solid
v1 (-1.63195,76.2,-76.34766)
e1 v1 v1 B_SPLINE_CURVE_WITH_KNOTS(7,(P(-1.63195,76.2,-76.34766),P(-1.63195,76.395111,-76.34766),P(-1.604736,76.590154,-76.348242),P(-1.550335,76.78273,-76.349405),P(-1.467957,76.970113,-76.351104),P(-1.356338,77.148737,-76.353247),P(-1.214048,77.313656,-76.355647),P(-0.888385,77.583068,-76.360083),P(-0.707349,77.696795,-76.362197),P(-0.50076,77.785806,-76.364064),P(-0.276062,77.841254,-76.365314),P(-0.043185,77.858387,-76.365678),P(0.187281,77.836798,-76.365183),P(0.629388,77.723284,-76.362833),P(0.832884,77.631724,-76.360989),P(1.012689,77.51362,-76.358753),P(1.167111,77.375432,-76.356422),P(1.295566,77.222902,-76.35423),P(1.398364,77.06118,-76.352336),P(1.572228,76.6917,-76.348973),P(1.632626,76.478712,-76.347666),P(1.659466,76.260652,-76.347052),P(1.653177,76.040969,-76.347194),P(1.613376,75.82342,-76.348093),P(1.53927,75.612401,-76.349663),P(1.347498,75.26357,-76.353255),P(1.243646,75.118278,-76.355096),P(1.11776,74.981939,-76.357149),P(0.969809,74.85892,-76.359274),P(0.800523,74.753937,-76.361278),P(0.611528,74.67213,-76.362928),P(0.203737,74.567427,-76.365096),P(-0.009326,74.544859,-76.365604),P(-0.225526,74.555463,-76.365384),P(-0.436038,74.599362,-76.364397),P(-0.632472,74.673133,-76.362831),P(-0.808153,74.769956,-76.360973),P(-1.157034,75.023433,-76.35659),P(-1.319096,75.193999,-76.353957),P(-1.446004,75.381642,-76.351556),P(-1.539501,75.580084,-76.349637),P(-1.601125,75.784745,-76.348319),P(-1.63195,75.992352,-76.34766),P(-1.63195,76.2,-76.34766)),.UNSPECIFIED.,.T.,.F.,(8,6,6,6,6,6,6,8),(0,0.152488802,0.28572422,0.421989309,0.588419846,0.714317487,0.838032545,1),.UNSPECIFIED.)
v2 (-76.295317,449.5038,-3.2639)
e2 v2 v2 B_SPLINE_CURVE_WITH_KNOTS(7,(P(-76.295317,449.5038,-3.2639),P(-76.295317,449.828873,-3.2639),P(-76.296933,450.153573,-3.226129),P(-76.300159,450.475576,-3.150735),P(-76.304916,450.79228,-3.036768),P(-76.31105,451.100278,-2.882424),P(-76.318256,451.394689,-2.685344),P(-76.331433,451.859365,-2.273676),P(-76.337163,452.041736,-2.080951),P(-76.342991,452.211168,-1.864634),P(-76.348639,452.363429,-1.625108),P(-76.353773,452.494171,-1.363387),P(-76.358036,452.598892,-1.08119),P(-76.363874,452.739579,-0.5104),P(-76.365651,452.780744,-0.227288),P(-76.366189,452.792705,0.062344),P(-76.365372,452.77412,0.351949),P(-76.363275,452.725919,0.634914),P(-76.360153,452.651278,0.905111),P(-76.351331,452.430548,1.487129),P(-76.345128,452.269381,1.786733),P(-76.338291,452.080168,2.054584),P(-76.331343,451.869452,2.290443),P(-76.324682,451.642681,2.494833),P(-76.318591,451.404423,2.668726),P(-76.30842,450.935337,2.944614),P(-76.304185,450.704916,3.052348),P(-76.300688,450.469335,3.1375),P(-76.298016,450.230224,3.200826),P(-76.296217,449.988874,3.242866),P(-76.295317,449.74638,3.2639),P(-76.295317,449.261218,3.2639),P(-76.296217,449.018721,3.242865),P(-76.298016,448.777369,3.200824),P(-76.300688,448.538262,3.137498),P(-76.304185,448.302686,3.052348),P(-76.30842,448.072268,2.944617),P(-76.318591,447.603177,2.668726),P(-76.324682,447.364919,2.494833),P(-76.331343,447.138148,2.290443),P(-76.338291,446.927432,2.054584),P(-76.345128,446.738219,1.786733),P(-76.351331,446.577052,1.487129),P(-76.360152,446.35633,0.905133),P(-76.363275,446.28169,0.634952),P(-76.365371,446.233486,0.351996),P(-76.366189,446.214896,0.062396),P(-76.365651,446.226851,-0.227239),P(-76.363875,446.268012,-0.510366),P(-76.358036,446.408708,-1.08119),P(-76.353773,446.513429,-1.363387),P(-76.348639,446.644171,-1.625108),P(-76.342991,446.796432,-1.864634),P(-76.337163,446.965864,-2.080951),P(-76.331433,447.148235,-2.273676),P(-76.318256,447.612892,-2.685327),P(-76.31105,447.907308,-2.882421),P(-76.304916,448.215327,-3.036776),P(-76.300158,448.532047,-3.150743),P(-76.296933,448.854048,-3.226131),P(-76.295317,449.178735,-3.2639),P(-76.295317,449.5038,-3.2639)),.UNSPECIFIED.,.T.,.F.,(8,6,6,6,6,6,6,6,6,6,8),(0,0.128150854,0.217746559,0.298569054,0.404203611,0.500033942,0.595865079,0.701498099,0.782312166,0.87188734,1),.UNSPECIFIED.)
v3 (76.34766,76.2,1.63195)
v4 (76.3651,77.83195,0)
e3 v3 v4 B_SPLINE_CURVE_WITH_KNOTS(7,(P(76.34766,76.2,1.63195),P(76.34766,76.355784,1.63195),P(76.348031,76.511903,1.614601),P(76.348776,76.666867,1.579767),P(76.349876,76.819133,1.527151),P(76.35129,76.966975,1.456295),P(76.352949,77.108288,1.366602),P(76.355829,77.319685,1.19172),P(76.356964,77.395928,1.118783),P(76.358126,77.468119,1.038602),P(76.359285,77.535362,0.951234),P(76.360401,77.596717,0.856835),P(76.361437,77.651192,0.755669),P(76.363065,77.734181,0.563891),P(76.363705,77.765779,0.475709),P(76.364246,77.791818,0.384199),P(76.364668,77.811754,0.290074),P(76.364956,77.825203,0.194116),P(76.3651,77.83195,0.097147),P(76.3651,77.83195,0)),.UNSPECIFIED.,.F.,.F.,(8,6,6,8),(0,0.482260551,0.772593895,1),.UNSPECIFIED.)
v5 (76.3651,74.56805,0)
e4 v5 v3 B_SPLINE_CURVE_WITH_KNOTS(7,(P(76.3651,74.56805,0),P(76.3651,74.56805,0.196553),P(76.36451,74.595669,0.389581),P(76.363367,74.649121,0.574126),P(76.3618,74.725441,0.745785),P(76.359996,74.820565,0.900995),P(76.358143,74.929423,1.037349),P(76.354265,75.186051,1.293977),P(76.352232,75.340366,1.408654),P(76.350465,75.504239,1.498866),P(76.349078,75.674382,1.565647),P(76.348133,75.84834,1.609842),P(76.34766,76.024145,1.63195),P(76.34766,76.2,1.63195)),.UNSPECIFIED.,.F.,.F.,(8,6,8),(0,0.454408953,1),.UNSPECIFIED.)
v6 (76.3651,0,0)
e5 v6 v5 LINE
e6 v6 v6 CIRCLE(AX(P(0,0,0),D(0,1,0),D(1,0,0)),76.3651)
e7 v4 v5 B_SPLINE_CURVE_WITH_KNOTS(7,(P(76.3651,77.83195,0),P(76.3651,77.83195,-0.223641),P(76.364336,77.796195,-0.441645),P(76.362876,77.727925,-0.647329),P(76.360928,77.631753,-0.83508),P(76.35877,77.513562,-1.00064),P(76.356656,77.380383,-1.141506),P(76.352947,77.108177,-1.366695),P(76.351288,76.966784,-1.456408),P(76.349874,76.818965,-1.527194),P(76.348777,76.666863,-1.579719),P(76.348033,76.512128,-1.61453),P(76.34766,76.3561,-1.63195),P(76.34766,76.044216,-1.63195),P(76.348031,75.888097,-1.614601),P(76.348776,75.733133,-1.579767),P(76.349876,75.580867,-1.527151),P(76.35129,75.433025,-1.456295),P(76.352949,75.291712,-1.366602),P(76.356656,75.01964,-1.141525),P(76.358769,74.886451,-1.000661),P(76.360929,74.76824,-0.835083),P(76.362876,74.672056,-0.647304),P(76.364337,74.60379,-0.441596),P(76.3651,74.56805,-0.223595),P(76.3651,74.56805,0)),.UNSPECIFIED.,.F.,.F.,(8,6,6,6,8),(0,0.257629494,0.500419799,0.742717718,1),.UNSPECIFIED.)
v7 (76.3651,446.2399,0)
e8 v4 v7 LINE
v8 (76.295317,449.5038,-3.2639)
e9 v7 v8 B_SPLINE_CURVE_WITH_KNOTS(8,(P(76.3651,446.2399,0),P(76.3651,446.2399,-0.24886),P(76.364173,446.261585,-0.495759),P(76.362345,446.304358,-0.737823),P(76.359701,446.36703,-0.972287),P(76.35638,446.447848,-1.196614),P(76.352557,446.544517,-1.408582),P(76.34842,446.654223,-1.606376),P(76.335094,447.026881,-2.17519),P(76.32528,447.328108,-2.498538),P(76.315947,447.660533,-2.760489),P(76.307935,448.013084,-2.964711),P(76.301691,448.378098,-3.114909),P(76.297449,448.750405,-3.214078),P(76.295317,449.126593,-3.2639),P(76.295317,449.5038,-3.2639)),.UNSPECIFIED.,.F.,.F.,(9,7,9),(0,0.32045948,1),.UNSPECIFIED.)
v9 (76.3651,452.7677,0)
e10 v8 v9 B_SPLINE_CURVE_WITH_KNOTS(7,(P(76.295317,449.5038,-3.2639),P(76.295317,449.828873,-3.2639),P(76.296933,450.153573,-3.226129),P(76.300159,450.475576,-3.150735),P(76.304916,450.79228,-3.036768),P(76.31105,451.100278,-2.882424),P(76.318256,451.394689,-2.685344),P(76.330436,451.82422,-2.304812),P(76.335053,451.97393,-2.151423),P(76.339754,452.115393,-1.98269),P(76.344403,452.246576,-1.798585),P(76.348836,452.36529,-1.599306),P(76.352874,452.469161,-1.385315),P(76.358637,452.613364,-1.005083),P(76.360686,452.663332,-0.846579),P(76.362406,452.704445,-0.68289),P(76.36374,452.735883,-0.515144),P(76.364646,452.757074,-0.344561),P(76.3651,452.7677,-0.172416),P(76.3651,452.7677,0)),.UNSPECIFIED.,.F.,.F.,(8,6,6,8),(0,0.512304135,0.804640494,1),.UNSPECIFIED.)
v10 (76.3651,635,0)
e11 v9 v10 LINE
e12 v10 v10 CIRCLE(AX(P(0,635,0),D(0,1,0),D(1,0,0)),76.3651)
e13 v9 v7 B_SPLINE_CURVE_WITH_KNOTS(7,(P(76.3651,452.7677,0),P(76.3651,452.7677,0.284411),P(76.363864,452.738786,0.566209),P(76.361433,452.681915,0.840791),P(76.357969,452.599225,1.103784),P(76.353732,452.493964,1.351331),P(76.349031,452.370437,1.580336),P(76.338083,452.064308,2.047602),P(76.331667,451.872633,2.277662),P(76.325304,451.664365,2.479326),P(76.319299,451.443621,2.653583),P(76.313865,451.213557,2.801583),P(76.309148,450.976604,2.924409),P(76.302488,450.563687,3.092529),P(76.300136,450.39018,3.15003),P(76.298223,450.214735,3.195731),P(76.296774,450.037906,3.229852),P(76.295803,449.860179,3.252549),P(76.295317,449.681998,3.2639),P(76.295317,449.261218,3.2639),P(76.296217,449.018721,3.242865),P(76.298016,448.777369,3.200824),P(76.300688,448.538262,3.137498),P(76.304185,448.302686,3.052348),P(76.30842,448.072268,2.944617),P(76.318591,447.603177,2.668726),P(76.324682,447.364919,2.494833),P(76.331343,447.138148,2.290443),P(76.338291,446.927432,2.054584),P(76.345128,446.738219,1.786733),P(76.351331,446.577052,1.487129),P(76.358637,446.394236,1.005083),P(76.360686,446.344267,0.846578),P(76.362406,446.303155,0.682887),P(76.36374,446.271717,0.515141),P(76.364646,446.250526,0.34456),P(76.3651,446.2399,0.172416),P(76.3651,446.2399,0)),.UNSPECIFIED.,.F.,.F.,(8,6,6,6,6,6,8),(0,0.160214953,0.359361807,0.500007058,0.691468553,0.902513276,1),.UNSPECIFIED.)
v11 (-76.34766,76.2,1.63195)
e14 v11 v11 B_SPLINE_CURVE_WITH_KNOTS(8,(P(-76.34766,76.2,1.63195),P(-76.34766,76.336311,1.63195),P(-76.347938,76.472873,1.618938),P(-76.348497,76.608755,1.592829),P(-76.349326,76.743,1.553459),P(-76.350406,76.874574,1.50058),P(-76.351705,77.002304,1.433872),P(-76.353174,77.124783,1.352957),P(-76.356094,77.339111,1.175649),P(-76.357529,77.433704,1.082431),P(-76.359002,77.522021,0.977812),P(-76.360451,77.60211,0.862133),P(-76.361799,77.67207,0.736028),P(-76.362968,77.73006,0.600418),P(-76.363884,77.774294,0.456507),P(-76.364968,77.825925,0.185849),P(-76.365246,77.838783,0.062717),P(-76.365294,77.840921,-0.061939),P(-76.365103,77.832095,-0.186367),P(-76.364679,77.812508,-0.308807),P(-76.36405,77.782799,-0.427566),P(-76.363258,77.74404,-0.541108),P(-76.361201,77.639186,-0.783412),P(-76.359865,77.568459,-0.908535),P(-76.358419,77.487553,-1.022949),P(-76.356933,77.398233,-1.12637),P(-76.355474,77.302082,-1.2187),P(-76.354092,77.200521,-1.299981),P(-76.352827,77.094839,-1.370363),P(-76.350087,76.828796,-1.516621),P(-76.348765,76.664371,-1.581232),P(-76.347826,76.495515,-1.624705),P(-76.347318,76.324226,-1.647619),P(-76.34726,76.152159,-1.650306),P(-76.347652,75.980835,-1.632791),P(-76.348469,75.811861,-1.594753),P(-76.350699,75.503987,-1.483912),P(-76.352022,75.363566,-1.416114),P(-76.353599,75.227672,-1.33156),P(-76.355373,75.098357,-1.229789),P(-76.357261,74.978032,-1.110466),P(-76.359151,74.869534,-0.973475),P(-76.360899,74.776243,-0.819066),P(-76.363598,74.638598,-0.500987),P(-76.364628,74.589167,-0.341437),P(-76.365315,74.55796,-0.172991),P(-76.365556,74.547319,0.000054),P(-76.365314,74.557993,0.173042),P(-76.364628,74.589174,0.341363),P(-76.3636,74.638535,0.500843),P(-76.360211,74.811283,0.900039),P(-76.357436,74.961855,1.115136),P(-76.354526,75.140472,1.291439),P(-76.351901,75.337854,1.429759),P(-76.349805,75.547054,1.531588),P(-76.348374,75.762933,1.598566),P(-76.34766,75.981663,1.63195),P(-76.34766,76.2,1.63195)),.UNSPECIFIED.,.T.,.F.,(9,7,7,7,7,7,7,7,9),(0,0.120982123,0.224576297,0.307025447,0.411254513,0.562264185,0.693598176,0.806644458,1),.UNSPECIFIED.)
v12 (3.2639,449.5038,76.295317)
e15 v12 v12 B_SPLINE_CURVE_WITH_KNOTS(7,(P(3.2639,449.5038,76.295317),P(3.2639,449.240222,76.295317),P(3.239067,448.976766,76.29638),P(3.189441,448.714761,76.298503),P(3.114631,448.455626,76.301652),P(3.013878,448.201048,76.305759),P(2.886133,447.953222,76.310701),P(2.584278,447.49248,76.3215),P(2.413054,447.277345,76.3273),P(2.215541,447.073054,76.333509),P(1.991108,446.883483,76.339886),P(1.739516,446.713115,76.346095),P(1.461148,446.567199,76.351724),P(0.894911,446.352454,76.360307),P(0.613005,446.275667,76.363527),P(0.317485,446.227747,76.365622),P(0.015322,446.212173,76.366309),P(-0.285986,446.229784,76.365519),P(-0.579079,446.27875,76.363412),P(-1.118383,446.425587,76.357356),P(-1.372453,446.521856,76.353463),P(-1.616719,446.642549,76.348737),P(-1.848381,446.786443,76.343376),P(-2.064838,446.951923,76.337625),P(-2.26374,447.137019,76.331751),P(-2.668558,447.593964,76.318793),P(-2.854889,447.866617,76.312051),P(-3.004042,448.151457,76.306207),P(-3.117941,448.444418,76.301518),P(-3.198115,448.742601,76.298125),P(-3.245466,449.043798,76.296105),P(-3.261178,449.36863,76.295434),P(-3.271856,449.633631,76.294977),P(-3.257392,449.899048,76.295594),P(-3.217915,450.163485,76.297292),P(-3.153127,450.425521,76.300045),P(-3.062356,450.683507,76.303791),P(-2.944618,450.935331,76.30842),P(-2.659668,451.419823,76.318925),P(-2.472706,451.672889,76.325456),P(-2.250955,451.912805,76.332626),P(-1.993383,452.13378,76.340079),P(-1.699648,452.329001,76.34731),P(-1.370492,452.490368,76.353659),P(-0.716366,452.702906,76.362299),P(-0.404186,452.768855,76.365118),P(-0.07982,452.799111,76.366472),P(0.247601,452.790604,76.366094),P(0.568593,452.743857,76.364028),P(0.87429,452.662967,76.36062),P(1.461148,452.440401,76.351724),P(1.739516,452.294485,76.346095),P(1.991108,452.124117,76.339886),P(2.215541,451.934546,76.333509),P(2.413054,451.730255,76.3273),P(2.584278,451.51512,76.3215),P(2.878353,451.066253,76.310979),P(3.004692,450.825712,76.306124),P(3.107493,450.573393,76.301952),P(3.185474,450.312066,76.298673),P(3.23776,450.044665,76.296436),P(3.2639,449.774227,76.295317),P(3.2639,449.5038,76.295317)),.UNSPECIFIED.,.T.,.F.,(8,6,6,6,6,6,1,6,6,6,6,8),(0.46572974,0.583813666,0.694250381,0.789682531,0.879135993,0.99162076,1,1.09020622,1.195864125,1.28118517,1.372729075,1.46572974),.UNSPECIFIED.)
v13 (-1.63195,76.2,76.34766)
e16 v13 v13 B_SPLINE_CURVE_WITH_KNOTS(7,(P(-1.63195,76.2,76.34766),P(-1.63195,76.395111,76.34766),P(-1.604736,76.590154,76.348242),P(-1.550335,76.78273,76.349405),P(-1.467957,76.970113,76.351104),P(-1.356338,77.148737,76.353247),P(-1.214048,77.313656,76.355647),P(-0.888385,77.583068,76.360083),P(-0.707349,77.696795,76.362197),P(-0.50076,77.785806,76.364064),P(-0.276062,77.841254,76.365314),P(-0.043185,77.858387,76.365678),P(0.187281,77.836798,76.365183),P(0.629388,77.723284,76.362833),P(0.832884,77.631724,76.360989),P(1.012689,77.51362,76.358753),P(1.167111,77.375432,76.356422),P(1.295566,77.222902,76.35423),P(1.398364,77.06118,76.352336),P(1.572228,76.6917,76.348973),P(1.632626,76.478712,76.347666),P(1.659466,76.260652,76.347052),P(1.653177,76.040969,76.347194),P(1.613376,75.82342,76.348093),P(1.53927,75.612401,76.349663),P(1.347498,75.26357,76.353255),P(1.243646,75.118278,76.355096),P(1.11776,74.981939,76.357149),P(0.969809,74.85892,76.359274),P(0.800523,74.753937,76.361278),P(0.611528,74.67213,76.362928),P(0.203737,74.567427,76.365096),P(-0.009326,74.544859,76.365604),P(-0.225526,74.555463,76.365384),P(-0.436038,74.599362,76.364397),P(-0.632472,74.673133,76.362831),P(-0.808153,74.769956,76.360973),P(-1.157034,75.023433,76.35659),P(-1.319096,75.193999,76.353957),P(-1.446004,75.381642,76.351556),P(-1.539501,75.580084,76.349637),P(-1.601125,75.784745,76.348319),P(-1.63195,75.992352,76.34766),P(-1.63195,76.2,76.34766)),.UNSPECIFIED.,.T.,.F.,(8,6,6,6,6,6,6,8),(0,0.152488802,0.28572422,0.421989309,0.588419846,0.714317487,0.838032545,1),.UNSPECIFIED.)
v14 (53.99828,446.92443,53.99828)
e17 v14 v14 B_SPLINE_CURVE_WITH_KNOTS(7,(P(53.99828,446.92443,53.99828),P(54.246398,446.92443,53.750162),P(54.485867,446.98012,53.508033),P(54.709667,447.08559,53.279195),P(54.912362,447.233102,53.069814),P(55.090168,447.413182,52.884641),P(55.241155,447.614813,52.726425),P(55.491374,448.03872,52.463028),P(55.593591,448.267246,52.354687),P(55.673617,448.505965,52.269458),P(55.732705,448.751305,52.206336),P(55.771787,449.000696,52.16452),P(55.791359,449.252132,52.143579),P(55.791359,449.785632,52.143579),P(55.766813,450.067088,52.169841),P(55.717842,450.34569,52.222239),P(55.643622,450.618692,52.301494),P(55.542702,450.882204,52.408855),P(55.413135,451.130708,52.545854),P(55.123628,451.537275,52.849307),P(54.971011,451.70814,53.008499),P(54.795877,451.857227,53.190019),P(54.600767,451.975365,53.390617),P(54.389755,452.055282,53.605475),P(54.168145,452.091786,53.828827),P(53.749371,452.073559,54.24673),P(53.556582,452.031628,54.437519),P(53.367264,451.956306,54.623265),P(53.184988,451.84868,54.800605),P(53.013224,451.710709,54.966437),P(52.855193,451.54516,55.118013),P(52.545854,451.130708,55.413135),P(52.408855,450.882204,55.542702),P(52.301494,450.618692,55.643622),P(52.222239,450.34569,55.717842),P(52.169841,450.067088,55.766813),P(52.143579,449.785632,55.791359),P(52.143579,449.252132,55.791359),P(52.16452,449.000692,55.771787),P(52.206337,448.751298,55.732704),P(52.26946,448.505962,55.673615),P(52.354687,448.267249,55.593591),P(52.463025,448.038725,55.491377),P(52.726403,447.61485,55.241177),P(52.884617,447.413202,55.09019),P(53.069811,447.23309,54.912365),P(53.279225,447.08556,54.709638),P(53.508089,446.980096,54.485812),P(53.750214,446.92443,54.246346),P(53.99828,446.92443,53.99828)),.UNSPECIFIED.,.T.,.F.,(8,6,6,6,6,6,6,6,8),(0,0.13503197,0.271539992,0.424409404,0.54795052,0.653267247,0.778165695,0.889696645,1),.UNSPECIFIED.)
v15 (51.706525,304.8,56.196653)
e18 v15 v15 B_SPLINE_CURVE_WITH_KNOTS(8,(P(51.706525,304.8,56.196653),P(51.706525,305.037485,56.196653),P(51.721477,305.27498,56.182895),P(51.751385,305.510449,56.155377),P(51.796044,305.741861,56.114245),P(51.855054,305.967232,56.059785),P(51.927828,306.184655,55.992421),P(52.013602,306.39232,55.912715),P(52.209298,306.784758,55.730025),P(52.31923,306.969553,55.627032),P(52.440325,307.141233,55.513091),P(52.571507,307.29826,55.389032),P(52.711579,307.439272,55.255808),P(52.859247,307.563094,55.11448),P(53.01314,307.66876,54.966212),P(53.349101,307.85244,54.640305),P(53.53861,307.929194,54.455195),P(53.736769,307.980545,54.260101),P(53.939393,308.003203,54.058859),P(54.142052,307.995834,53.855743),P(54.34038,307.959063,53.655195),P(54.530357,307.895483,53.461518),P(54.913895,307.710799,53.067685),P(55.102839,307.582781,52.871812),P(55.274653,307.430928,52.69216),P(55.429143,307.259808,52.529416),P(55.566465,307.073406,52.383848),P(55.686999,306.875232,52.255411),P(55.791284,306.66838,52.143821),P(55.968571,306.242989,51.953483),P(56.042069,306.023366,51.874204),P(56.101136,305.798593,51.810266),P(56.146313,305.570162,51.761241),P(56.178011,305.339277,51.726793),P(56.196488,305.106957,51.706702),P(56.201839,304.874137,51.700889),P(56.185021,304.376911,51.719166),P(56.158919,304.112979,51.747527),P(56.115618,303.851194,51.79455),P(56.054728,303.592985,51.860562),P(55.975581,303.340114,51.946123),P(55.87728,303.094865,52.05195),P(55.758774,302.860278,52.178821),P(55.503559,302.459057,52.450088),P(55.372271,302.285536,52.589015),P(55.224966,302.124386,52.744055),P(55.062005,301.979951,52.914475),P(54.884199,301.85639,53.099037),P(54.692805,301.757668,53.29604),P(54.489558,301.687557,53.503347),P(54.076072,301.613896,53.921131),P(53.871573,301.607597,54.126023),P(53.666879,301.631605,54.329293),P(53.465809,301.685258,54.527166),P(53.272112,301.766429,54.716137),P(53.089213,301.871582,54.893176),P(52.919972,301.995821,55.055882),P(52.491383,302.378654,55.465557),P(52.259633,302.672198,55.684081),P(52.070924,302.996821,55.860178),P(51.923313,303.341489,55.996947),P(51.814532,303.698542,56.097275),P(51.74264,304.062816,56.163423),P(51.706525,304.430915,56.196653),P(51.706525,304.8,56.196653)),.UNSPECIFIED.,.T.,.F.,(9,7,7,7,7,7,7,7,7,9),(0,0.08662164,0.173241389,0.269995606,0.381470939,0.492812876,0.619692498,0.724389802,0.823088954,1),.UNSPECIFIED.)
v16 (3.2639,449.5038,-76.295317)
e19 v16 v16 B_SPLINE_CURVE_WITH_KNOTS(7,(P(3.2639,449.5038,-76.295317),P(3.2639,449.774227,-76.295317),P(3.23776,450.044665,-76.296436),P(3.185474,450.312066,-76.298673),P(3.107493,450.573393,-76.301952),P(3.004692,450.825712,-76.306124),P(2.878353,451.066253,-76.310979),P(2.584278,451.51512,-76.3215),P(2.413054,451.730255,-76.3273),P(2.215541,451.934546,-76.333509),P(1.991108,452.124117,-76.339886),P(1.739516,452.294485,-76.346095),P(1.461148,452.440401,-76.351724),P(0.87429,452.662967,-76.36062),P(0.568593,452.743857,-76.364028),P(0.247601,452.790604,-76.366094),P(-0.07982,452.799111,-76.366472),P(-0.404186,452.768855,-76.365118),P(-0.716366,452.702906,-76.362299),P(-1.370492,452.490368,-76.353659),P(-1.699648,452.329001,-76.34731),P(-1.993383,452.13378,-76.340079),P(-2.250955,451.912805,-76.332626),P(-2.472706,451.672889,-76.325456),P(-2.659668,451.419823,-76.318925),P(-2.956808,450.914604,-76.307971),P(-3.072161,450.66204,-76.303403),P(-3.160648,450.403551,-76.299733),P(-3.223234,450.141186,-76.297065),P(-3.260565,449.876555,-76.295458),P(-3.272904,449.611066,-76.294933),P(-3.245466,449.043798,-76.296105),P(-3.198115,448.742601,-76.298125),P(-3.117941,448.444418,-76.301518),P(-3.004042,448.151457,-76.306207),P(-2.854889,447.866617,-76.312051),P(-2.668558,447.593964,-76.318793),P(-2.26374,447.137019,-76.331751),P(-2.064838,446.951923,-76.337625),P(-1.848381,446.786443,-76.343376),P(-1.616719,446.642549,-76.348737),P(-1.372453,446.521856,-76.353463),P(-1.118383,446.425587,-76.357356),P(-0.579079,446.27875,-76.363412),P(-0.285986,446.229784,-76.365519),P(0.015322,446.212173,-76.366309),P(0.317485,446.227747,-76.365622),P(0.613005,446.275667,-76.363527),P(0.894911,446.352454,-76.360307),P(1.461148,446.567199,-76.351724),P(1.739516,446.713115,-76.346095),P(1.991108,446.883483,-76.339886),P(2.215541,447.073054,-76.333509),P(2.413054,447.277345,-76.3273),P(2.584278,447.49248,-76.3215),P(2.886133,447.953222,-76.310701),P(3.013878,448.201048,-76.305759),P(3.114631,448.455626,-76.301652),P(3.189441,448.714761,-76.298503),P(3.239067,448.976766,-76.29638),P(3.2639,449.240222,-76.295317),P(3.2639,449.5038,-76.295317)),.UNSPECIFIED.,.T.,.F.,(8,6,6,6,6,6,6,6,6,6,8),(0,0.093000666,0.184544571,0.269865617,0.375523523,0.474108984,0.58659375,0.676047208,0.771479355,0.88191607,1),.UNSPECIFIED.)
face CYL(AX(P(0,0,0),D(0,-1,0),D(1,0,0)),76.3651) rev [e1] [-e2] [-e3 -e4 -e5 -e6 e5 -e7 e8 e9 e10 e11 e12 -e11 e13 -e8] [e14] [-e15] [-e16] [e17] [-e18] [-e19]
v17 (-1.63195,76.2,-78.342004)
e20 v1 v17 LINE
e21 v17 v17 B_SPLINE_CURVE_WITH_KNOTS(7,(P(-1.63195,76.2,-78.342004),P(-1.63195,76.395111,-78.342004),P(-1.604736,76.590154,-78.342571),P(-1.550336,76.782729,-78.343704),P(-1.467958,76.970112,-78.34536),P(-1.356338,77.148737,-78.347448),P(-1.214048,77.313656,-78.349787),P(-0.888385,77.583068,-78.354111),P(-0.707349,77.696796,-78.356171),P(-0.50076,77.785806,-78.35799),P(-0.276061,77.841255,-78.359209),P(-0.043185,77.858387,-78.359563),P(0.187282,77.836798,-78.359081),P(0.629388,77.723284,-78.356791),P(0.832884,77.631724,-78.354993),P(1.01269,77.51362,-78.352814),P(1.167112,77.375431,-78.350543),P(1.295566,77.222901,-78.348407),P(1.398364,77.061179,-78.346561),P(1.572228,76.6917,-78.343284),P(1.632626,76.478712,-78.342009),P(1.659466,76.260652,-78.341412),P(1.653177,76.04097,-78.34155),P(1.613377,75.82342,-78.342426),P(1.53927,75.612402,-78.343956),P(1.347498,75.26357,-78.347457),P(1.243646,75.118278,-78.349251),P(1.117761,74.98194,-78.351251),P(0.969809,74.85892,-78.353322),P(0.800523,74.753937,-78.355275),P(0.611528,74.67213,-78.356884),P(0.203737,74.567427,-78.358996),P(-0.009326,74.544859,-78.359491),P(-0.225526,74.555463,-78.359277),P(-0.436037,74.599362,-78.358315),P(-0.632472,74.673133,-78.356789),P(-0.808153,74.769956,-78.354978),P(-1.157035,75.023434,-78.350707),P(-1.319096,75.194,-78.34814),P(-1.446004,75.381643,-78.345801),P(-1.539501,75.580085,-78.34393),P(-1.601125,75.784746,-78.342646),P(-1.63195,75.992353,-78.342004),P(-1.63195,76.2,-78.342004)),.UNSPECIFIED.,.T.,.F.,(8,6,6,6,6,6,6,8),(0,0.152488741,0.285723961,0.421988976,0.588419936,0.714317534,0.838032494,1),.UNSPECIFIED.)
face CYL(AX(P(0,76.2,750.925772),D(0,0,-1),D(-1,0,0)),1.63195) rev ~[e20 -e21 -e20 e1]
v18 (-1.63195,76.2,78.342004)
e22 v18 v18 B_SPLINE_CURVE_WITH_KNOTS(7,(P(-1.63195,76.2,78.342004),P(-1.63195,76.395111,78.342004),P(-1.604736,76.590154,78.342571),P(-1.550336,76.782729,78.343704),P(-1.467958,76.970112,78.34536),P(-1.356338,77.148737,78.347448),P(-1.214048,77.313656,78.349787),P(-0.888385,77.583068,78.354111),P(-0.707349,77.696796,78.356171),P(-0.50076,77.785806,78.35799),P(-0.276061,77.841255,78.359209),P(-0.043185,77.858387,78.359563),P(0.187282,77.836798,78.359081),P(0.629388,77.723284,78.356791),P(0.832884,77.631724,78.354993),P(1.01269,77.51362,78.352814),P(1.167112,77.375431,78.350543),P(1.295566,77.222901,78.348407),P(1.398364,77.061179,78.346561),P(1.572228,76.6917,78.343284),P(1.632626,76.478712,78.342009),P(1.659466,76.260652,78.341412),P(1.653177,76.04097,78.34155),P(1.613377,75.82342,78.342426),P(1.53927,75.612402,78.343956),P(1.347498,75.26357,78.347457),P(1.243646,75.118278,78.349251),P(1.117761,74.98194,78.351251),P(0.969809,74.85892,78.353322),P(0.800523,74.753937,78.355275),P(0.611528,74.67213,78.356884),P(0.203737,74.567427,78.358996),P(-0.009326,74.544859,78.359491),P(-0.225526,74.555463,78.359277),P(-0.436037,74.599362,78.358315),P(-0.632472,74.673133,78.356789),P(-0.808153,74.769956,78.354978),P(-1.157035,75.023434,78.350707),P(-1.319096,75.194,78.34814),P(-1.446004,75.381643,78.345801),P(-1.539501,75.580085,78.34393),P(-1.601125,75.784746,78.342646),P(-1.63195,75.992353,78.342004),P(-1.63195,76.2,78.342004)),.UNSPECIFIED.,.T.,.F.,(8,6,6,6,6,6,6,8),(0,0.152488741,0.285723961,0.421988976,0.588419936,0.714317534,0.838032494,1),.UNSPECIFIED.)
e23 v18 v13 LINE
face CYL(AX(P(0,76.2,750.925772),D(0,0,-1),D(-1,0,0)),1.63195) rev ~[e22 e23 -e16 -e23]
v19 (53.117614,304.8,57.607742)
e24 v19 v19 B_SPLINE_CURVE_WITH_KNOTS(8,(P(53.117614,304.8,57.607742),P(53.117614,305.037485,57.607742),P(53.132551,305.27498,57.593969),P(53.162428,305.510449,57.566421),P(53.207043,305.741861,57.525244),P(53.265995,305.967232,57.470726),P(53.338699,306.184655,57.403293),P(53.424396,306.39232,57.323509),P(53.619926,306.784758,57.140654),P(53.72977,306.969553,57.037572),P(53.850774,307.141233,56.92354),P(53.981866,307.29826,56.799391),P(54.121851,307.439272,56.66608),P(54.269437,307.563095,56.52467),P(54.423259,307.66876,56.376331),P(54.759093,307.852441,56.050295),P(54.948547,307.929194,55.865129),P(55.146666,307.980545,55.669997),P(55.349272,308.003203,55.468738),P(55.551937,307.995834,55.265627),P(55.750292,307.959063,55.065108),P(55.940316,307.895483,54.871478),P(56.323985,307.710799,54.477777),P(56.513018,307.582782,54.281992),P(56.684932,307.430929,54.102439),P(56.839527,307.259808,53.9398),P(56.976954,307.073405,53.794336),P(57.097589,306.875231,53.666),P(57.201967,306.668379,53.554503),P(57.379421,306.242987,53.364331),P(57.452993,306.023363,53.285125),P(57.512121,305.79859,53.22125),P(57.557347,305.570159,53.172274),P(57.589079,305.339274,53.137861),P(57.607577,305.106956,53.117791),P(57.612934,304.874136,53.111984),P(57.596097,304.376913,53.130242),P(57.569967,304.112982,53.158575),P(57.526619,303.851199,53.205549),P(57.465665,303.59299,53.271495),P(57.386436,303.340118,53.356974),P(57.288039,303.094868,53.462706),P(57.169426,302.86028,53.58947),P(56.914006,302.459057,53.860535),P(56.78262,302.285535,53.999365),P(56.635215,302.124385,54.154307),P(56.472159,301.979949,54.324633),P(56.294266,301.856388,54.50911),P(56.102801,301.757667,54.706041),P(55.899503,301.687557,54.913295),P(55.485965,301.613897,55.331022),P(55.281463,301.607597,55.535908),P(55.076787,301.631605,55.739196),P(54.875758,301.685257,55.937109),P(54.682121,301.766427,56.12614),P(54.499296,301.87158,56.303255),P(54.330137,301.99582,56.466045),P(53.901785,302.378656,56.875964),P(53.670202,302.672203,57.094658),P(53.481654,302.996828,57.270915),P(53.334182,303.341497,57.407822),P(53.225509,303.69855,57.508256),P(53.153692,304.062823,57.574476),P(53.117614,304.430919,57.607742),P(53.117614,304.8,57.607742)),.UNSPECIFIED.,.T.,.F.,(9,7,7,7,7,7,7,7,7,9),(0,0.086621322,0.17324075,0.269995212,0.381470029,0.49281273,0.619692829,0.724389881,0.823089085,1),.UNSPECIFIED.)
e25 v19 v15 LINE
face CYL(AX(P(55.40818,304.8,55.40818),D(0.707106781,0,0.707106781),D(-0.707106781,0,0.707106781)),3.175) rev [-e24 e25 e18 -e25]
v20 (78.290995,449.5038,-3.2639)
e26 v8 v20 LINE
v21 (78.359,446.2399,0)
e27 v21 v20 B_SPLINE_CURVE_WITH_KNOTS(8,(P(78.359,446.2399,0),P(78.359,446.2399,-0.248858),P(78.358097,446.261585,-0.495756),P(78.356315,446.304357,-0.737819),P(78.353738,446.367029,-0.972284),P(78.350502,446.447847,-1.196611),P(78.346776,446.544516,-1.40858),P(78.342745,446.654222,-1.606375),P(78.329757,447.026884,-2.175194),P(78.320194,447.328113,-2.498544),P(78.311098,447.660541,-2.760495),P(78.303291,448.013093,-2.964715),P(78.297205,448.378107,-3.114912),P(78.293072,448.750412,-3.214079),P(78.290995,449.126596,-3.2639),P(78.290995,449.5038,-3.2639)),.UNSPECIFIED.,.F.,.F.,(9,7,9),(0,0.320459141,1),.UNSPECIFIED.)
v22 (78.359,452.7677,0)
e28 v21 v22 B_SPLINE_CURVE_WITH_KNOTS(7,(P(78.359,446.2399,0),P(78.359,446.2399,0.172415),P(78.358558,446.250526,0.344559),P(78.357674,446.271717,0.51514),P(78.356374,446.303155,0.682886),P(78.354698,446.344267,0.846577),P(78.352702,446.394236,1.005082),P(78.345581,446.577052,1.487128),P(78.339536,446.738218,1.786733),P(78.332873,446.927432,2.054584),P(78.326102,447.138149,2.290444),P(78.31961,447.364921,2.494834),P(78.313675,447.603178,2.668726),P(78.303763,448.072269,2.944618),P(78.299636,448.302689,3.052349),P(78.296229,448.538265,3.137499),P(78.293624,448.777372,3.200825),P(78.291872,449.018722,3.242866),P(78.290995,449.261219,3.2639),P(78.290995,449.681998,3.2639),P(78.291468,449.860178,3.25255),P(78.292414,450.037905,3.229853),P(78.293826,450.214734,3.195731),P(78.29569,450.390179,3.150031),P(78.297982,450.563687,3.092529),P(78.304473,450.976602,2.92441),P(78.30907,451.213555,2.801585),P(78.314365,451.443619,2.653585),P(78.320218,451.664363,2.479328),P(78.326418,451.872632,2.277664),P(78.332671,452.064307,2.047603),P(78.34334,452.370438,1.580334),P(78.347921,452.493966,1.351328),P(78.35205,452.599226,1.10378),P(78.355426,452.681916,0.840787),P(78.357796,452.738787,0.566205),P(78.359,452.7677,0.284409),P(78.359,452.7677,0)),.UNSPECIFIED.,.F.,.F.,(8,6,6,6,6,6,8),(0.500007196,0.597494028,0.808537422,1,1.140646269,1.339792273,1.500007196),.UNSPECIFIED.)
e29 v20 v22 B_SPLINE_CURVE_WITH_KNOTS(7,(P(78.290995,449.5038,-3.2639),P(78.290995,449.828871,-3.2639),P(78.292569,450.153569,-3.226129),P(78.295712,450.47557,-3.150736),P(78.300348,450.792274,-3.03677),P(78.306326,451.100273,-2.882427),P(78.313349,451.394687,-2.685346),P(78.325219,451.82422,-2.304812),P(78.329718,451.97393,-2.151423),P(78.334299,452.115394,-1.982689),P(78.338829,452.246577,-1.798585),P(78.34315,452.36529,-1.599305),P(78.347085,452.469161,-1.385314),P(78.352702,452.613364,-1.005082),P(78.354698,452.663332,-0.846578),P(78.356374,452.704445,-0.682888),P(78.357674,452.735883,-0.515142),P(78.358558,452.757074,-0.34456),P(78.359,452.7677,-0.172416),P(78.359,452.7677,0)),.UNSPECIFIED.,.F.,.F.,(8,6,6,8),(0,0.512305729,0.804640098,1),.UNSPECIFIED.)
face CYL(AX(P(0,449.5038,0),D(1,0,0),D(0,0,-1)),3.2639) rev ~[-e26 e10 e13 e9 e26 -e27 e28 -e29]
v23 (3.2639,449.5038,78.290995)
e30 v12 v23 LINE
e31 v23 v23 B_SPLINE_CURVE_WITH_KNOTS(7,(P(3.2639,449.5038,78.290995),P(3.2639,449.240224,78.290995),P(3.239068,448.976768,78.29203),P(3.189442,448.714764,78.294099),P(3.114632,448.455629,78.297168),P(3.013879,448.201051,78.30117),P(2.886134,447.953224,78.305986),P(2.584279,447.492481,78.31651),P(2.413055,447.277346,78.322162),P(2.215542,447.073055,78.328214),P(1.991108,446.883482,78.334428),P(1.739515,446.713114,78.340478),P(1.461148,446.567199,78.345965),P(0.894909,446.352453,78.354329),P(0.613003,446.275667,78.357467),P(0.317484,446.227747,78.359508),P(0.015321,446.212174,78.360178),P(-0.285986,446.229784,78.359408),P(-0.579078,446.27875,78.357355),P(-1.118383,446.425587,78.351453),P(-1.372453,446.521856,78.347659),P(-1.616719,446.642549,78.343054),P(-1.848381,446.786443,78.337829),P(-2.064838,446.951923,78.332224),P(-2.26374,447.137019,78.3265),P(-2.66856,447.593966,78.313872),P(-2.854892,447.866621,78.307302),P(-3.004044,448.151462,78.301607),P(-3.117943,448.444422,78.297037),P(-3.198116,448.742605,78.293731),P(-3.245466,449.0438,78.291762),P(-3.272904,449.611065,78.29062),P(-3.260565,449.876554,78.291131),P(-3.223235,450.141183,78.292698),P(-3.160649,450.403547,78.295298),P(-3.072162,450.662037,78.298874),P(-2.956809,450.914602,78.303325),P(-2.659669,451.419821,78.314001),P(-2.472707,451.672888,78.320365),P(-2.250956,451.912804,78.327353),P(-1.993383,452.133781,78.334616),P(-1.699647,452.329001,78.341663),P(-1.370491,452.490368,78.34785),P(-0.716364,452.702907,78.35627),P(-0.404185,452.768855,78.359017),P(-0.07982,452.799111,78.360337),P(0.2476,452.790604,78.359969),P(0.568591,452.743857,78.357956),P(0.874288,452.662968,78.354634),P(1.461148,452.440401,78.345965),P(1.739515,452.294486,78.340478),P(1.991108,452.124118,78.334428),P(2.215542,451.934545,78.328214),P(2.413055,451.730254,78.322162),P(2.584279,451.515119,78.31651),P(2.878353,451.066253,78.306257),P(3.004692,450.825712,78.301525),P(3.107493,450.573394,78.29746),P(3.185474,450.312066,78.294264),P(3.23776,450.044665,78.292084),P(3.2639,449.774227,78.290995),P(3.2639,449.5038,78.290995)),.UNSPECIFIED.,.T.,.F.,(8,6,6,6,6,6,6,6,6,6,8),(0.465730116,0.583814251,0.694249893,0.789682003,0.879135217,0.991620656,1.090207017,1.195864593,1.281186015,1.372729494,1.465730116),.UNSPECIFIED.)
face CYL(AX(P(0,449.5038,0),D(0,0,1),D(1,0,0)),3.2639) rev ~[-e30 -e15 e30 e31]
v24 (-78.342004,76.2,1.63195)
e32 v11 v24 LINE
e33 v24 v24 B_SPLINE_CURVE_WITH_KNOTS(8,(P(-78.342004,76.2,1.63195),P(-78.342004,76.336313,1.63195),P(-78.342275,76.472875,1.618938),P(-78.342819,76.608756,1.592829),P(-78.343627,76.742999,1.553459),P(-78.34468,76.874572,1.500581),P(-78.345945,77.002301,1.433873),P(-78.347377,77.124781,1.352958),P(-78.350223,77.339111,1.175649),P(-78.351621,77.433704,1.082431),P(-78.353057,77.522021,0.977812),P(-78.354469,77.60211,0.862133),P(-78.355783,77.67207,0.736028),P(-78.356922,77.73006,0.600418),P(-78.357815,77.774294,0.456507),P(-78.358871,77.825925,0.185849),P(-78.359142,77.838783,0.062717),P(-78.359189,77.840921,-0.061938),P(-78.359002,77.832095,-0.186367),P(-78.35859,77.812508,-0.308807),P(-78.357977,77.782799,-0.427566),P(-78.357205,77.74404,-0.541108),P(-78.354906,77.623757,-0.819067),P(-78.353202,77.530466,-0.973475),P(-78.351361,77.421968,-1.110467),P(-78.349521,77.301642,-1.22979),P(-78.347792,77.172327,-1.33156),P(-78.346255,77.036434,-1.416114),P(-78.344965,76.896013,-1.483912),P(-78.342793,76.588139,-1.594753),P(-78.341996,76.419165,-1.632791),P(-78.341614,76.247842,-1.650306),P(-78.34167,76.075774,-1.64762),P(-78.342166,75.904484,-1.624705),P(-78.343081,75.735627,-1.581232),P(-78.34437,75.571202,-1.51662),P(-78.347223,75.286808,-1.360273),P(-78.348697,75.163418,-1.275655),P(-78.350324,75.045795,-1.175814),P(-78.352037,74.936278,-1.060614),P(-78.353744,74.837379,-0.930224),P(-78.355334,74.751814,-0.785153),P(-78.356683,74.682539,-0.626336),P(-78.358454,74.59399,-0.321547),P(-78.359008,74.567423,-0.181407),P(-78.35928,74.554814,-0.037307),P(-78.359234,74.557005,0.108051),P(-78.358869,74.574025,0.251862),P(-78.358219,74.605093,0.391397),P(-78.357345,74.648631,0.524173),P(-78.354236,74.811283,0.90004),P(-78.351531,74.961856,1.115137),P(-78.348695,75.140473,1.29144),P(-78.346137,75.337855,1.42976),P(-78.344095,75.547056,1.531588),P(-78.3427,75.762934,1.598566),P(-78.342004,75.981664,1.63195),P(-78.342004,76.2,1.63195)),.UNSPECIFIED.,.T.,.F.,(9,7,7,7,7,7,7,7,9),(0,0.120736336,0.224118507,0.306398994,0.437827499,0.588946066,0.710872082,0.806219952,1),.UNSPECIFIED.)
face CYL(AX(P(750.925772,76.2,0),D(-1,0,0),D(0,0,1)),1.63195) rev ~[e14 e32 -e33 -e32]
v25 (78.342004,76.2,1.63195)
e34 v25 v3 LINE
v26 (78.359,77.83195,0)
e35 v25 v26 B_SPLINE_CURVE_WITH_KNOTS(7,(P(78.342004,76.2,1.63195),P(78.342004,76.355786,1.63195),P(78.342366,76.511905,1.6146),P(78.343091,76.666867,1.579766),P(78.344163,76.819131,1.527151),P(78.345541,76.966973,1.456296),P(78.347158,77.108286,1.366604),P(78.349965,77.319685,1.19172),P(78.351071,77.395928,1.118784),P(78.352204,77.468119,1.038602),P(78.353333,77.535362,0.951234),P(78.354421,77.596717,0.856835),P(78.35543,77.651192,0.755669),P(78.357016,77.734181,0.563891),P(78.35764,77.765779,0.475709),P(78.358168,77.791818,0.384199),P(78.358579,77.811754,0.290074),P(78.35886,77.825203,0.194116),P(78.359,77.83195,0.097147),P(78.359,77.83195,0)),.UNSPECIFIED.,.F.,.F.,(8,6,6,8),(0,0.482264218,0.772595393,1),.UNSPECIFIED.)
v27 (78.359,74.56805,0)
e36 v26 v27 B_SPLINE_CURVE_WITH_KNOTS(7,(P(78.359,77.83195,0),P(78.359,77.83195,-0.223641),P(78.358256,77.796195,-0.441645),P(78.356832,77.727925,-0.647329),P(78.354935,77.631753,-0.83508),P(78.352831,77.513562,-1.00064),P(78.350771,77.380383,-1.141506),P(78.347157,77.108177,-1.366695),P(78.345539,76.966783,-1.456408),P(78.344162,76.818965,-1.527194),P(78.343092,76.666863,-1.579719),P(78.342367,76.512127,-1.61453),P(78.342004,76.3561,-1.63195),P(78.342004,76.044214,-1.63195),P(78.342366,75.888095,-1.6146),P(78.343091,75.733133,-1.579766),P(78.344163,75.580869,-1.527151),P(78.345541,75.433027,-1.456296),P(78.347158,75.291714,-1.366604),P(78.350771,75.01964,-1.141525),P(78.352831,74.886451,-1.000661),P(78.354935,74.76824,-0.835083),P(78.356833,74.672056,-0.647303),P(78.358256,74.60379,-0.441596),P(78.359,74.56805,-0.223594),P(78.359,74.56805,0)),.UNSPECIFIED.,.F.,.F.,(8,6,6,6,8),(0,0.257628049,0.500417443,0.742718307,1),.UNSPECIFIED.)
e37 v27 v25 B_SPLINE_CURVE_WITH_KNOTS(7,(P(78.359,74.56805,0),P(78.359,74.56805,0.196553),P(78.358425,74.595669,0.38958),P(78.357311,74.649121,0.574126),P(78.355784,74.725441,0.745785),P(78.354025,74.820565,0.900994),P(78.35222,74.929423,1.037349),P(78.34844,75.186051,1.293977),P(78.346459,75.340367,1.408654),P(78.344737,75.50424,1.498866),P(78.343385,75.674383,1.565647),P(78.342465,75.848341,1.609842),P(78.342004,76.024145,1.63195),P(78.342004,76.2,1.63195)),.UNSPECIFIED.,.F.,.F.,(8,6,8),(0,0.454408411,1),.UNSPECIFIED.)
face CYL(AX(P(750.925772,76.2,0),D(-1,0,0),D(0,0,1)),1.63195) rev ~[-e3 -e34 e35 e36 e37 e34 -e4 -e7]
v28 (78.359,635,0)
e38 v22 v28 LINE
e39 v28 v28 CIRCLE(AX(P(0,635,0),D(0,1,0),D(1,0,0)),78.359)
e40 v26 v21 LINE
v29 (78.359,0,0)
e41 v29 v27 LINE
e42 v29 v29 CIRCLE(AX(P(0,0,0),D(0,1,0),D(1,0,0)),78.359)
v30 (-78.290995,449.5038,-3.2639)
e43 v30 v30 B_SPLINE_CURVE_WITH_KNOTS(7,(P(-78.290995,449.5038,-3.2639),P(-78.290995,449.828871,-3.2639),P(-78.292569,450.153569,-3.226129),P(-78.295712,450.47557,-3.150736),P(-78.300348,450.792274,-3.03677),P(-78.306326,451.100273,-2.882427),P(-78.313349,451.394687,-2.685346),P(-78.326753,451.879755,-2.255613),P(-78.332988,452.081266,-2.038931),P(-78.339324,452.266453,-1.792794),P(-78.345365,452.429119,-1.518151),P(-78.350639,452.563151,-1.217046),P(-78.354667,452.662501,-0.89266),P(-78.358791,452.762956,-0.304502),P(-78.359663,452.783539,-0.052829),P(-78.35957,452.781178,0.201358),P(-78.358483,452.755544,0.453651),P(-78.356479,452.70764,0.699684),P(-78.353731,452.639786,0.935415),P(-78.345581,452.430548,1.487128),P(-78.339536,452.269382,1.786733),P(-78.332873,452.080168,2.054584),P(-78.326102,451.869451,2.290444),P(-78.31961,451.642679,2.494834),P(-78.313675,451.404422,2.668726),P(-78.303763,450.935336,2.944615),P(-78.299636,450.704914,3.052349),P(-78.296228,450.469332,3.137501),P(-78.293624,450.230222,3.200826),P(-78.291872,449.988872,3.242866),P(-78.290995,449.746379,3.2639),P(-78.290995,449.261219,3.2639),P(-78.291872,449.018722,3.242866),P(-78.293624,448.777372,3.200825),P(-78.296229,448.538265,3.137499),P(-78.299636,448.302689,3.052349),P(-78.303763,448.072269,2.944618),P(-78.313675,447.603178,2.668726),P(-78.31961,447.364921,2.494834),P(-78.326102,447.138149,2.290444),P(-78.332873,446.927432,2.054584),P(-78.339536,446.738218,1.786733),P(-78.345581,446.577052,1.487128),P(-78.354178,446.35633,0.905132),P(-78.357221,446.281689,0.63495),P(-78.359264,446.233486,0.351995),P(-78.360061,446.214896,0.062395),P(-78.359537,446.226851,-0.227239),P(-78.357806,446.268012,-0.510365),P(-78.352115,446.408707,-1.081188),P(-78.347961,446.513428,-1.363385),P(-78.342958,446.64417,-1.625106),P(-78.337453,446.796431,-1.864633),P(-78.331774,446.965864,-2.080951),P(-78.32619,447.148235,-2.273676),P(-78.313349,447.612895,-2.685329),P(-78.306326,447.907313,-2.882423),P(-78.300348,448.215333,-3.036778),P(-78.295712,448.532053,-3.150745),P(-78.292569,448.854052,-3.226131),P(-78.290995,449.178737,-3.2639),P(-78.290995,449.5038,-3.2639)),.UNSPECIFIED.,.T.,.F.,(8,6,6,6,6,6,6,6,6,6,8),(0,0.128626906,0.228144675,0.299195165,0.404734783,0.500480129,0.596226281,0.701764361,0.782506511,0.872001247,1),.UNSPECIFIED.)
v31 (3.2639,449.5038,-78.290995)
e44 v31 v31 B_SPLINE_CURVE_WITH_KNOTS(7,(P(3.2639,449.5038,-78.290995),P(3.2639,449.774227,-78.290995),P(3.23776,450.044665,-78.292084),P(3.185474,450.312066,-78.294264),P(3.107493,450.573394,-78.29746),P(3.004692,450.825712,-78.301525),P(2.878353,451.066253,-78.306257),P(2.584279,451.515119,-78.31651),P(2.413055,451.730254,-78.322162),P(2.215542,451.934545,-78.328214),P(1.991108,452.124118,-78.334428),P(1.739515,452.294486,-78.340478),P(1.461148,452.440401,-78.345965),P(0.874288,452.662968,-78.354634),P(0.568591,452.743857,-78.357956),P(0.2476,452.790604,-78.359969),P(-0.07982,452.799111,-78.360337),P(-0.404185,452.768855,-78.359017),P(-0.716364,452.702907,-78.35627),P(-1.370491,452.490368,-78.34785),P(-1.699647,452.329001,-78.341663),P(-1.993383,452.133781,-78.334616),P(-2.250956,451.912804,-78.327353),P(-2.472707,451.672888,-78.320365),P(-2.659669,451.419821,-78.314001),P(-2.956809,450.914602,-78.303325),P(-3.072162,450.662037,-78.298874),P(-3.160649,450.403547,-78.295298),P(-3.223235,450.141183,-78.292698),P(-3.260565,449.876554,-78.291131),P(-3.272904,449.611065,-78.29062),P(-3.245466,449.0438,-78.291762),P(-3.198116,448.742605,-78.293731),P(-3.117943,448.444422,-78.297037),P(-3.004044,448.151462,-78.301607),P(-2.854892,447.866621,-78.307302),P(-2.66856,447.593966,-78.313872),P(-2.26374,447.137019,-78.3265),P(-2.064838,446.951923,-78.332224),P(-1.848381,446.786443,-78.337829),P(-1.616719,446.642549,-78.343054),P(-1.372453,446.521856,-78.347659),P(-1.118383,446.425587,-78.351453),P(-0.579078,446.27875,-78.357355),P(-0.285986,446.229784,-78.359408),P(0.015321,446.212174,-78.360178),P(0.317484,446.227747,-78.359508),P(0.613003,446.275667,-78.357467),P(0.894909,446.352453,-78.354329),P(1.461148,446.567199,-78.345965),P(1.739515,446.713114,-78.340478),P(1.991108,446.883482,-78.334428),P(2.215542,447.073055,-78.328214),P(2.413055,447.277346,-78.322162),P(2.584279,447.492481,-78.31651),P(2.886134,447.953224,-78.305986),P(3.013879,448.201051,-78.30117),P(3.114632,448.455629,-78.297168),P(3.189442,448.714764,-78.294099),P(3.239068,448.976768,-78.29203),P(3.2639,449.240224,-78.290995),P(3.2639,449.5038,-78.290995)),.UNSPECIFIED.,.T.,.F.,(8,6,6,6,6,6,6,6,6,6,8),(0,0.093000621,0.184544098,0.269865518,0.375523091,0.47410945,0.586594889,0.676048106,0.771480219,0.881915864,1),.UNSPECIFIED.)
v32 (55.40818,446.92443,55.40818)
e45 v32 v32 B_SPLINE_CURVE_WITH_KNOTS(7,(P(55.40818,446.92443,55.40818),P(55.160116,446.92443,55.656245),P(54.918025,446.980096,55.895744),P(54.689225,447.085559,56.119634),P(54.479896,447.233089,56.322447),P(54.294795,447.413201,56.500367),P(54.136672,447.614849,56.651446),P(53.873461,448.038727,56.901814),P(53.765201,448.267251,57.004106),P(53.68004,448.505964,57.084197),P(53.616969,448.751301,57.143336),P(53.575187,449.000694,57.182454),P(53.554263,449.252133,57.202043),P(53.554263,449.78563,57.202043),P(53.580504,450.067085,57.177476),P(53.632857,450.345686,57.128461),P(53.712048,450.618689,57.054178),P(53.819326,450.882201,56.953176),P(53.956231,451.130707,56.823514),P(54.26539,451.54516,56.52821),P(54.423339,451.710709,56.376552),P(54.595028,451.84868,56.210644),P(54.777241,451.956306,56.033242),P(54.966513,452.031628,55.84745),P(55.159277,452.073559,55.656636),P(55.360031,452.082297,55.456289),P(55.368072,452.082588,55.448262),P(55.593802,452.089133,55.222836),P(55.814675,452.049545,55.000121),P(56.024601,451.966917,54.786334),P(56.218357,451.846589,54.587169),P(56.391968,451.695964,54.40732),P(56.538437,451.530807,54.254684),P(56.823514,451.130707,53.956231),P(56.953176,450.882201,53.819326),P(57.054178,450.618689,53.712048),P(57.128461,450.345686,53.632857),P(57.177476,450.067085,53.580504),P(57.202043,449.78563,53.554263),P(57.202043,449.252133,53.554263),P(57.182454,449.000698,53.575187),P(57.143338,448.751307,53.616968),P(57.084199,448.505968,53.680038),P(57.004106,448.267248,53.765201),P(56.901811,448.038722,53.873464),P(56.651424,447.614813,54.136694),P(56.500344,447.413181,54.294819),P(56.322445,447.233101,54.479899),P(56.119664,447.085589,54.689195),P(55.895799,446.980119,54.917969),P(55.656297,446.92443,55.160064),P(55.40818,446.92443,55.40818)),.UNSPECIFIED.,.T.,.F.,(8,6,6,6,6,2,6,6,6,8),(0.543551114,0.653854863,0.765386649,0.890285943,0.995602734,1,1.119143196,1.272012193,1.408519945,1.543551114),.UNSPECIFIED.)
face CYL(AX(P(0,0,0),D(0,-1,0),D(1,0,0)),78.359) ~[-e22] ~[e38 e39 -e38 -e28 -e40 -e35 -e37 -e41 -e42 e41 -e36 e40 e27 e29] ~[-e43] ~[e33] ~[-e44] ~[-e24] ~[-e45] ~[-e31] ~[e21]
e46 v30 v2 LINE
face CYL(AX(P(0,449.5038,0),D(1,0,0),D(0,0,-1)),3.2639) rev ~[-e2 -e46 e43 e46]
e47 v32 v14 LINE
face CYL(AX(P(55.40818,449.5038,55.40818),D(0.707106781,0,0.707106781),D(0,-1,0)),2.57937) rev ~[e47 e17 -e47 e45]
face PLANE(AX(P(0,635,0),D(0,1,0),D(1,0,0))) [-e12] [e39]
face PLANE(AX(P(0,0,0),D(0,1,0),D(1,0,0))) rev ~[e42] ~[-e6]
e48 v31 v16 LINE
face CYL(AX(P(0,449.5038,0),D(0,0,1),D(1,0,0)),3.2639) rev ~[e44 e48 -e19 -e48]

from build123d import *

# Parameters (mm, degrees)
SKETCH2_R                      = 78.359
SKETCH2_R_2                    = 76.3651
BOSS_EXTRUDE1_DEPTH            = 635
SKETCH4_R                      = 3.2639
CUT_EXTRUDE2_DEPTH             = 79.359
CIRPATTERN2_COUNT              = 4
CUT_EXTRUDE3_REACH             = 191.175
SKETCH5_R                      = 2.57937
CUT_EXTRUDE3_DIRECTION_2_DEPTH = 33.457360675
VENT_HOLE_REACH                = 191.175
SKETCH6_R                      = 3.175
F_4_CLEARANCE_HOLE1_D          = 3.2639
CIRPATTERN3_COUNT              = 2
CIRPATTERN3_ANGLE              = 90


with BuildPart() as part:
    # Sketch2 → Boss-Extrude1 (new body)
    with BuildSketch(Plane(origin=(0, 0, 0), x_dir=(1, 0, 0), z_dir=(0, 1, 0))):
        Circle(SKETCH2_R)
        Circle(SKETCH2_R_2, mode=Mode.SUBTRACT)
    extrude(amount=BOSS_EXTRUDE1_DEPTH)

    # Sketch4 → Cut-Extrude2 (cut, symmetric)
    with BuildSketch(Plane.XY):
        with Locations((0, 449.5038)):
            Circle(SKETCH4_R)
    cut_extrude2 = extrude(amount=CUT_EXTRUDE2_DEPTH, both=True, mode=Mode.SUBTRACT)

    # CirPattern2: Cut-Extrude2 ×4 about axis
    cirpattern2_axis = Axis((0, 635, 0), (0, 1, 0))
    for i in range(1, CIRPATTERN2_COUNT):
        add(cut_extrude2.rotate(cirpattern2_axis, i * 360 / CIRPATTERN2_COUNT), mode=Mode.SUBTRACT)

    # Sketch5 → Cut-Extrude3 (cut, up to next)
    with BuildSketch(Plane(origin=(55.408180267, 0, 55.408180267), x_dir=(0, -1, 0), z_dir=(0.707106781, 0, 0.707106781)), mode=Mode.PRIVATE) as cut_extrude3_sk1:
        with Locations((-449.5038, 0)):
            Circle(SKETCH5_R)
    cut_extrude3_tool1 = extrude(cut_extrude3_sk1.sketch, amount=-CUT_EXTRUDE3_REACH, mode=Mode.PRIVATE) & part.part
    add(cut_extrude3_tool1.solids().sort_by_distance((55.40818, 449.5038, 55.40818))[0], mode=Mode.SUBTRACT)

    # Sketch5 → Cut-Extrude3 direction 2 (cut)
    with BuildSketch(Plane(origin=(55.408180267, 0, 55.408180267), x_dir=(0, -1, 0), z_dir=(0.707106781, 0, 0.707106781))):
        with Locations((-449.5038, 0)):
            Circle(SKETCH5_R)
    extrude(amount=CUT_EXTRUDE3_DIRECTION_2_DEPTH, mode=Mode.SUBTRACT)

    # Sketch6 → Vent Hole (cut, up to next)
    with BuildSketch(Plane(origin=(189.175360534, 0, -78.359), x_dir=(-0.707106781, 0, 0.707106781), z_dir=(-0.707106781, 0, -0.707106781)), mode=Mode.PRIVATE) as vent_hole_sk1:
        with Locations((189.175360534, 304.8)):
            Circle(SKETCH6_R)
    vent_hole_tool1 = extrude(vent_hole_sk1.sketch, amount=VENT_HOLE_REACH, mode=Mode.PRIVATE) & part.part
    add(vent_hole_tool1.solids().sort_by_distance((55.40818, 304.8, 55.40818))[0], mode=Mode.SUBTRACT)

    # #4 Clearance Hole1 (through all)
    with Locations(Plane.XY.offset(78.359)):
        with Locations((0, 76.2)):
            f_4_clearance_hole1 = Hole(F_4_CLEARANCE_HOLE1_D / 2)

    # CirPattern3: #4 Clearance Hole1 ×2 about axis
    cirpattern3_axis = Axis((0, 0, 0), (0, 1, 0))
    for i in range(1, CIRPATTERN3_COUNT):
        add(f_4_clearance_hole1.rotate(cirpattern3_axis, i * CIRPATTERN3_ANGLE / (CIRPATTERN3_COUNT - 1)), mode=Mode.SUBTRACT)


solid = part.part
